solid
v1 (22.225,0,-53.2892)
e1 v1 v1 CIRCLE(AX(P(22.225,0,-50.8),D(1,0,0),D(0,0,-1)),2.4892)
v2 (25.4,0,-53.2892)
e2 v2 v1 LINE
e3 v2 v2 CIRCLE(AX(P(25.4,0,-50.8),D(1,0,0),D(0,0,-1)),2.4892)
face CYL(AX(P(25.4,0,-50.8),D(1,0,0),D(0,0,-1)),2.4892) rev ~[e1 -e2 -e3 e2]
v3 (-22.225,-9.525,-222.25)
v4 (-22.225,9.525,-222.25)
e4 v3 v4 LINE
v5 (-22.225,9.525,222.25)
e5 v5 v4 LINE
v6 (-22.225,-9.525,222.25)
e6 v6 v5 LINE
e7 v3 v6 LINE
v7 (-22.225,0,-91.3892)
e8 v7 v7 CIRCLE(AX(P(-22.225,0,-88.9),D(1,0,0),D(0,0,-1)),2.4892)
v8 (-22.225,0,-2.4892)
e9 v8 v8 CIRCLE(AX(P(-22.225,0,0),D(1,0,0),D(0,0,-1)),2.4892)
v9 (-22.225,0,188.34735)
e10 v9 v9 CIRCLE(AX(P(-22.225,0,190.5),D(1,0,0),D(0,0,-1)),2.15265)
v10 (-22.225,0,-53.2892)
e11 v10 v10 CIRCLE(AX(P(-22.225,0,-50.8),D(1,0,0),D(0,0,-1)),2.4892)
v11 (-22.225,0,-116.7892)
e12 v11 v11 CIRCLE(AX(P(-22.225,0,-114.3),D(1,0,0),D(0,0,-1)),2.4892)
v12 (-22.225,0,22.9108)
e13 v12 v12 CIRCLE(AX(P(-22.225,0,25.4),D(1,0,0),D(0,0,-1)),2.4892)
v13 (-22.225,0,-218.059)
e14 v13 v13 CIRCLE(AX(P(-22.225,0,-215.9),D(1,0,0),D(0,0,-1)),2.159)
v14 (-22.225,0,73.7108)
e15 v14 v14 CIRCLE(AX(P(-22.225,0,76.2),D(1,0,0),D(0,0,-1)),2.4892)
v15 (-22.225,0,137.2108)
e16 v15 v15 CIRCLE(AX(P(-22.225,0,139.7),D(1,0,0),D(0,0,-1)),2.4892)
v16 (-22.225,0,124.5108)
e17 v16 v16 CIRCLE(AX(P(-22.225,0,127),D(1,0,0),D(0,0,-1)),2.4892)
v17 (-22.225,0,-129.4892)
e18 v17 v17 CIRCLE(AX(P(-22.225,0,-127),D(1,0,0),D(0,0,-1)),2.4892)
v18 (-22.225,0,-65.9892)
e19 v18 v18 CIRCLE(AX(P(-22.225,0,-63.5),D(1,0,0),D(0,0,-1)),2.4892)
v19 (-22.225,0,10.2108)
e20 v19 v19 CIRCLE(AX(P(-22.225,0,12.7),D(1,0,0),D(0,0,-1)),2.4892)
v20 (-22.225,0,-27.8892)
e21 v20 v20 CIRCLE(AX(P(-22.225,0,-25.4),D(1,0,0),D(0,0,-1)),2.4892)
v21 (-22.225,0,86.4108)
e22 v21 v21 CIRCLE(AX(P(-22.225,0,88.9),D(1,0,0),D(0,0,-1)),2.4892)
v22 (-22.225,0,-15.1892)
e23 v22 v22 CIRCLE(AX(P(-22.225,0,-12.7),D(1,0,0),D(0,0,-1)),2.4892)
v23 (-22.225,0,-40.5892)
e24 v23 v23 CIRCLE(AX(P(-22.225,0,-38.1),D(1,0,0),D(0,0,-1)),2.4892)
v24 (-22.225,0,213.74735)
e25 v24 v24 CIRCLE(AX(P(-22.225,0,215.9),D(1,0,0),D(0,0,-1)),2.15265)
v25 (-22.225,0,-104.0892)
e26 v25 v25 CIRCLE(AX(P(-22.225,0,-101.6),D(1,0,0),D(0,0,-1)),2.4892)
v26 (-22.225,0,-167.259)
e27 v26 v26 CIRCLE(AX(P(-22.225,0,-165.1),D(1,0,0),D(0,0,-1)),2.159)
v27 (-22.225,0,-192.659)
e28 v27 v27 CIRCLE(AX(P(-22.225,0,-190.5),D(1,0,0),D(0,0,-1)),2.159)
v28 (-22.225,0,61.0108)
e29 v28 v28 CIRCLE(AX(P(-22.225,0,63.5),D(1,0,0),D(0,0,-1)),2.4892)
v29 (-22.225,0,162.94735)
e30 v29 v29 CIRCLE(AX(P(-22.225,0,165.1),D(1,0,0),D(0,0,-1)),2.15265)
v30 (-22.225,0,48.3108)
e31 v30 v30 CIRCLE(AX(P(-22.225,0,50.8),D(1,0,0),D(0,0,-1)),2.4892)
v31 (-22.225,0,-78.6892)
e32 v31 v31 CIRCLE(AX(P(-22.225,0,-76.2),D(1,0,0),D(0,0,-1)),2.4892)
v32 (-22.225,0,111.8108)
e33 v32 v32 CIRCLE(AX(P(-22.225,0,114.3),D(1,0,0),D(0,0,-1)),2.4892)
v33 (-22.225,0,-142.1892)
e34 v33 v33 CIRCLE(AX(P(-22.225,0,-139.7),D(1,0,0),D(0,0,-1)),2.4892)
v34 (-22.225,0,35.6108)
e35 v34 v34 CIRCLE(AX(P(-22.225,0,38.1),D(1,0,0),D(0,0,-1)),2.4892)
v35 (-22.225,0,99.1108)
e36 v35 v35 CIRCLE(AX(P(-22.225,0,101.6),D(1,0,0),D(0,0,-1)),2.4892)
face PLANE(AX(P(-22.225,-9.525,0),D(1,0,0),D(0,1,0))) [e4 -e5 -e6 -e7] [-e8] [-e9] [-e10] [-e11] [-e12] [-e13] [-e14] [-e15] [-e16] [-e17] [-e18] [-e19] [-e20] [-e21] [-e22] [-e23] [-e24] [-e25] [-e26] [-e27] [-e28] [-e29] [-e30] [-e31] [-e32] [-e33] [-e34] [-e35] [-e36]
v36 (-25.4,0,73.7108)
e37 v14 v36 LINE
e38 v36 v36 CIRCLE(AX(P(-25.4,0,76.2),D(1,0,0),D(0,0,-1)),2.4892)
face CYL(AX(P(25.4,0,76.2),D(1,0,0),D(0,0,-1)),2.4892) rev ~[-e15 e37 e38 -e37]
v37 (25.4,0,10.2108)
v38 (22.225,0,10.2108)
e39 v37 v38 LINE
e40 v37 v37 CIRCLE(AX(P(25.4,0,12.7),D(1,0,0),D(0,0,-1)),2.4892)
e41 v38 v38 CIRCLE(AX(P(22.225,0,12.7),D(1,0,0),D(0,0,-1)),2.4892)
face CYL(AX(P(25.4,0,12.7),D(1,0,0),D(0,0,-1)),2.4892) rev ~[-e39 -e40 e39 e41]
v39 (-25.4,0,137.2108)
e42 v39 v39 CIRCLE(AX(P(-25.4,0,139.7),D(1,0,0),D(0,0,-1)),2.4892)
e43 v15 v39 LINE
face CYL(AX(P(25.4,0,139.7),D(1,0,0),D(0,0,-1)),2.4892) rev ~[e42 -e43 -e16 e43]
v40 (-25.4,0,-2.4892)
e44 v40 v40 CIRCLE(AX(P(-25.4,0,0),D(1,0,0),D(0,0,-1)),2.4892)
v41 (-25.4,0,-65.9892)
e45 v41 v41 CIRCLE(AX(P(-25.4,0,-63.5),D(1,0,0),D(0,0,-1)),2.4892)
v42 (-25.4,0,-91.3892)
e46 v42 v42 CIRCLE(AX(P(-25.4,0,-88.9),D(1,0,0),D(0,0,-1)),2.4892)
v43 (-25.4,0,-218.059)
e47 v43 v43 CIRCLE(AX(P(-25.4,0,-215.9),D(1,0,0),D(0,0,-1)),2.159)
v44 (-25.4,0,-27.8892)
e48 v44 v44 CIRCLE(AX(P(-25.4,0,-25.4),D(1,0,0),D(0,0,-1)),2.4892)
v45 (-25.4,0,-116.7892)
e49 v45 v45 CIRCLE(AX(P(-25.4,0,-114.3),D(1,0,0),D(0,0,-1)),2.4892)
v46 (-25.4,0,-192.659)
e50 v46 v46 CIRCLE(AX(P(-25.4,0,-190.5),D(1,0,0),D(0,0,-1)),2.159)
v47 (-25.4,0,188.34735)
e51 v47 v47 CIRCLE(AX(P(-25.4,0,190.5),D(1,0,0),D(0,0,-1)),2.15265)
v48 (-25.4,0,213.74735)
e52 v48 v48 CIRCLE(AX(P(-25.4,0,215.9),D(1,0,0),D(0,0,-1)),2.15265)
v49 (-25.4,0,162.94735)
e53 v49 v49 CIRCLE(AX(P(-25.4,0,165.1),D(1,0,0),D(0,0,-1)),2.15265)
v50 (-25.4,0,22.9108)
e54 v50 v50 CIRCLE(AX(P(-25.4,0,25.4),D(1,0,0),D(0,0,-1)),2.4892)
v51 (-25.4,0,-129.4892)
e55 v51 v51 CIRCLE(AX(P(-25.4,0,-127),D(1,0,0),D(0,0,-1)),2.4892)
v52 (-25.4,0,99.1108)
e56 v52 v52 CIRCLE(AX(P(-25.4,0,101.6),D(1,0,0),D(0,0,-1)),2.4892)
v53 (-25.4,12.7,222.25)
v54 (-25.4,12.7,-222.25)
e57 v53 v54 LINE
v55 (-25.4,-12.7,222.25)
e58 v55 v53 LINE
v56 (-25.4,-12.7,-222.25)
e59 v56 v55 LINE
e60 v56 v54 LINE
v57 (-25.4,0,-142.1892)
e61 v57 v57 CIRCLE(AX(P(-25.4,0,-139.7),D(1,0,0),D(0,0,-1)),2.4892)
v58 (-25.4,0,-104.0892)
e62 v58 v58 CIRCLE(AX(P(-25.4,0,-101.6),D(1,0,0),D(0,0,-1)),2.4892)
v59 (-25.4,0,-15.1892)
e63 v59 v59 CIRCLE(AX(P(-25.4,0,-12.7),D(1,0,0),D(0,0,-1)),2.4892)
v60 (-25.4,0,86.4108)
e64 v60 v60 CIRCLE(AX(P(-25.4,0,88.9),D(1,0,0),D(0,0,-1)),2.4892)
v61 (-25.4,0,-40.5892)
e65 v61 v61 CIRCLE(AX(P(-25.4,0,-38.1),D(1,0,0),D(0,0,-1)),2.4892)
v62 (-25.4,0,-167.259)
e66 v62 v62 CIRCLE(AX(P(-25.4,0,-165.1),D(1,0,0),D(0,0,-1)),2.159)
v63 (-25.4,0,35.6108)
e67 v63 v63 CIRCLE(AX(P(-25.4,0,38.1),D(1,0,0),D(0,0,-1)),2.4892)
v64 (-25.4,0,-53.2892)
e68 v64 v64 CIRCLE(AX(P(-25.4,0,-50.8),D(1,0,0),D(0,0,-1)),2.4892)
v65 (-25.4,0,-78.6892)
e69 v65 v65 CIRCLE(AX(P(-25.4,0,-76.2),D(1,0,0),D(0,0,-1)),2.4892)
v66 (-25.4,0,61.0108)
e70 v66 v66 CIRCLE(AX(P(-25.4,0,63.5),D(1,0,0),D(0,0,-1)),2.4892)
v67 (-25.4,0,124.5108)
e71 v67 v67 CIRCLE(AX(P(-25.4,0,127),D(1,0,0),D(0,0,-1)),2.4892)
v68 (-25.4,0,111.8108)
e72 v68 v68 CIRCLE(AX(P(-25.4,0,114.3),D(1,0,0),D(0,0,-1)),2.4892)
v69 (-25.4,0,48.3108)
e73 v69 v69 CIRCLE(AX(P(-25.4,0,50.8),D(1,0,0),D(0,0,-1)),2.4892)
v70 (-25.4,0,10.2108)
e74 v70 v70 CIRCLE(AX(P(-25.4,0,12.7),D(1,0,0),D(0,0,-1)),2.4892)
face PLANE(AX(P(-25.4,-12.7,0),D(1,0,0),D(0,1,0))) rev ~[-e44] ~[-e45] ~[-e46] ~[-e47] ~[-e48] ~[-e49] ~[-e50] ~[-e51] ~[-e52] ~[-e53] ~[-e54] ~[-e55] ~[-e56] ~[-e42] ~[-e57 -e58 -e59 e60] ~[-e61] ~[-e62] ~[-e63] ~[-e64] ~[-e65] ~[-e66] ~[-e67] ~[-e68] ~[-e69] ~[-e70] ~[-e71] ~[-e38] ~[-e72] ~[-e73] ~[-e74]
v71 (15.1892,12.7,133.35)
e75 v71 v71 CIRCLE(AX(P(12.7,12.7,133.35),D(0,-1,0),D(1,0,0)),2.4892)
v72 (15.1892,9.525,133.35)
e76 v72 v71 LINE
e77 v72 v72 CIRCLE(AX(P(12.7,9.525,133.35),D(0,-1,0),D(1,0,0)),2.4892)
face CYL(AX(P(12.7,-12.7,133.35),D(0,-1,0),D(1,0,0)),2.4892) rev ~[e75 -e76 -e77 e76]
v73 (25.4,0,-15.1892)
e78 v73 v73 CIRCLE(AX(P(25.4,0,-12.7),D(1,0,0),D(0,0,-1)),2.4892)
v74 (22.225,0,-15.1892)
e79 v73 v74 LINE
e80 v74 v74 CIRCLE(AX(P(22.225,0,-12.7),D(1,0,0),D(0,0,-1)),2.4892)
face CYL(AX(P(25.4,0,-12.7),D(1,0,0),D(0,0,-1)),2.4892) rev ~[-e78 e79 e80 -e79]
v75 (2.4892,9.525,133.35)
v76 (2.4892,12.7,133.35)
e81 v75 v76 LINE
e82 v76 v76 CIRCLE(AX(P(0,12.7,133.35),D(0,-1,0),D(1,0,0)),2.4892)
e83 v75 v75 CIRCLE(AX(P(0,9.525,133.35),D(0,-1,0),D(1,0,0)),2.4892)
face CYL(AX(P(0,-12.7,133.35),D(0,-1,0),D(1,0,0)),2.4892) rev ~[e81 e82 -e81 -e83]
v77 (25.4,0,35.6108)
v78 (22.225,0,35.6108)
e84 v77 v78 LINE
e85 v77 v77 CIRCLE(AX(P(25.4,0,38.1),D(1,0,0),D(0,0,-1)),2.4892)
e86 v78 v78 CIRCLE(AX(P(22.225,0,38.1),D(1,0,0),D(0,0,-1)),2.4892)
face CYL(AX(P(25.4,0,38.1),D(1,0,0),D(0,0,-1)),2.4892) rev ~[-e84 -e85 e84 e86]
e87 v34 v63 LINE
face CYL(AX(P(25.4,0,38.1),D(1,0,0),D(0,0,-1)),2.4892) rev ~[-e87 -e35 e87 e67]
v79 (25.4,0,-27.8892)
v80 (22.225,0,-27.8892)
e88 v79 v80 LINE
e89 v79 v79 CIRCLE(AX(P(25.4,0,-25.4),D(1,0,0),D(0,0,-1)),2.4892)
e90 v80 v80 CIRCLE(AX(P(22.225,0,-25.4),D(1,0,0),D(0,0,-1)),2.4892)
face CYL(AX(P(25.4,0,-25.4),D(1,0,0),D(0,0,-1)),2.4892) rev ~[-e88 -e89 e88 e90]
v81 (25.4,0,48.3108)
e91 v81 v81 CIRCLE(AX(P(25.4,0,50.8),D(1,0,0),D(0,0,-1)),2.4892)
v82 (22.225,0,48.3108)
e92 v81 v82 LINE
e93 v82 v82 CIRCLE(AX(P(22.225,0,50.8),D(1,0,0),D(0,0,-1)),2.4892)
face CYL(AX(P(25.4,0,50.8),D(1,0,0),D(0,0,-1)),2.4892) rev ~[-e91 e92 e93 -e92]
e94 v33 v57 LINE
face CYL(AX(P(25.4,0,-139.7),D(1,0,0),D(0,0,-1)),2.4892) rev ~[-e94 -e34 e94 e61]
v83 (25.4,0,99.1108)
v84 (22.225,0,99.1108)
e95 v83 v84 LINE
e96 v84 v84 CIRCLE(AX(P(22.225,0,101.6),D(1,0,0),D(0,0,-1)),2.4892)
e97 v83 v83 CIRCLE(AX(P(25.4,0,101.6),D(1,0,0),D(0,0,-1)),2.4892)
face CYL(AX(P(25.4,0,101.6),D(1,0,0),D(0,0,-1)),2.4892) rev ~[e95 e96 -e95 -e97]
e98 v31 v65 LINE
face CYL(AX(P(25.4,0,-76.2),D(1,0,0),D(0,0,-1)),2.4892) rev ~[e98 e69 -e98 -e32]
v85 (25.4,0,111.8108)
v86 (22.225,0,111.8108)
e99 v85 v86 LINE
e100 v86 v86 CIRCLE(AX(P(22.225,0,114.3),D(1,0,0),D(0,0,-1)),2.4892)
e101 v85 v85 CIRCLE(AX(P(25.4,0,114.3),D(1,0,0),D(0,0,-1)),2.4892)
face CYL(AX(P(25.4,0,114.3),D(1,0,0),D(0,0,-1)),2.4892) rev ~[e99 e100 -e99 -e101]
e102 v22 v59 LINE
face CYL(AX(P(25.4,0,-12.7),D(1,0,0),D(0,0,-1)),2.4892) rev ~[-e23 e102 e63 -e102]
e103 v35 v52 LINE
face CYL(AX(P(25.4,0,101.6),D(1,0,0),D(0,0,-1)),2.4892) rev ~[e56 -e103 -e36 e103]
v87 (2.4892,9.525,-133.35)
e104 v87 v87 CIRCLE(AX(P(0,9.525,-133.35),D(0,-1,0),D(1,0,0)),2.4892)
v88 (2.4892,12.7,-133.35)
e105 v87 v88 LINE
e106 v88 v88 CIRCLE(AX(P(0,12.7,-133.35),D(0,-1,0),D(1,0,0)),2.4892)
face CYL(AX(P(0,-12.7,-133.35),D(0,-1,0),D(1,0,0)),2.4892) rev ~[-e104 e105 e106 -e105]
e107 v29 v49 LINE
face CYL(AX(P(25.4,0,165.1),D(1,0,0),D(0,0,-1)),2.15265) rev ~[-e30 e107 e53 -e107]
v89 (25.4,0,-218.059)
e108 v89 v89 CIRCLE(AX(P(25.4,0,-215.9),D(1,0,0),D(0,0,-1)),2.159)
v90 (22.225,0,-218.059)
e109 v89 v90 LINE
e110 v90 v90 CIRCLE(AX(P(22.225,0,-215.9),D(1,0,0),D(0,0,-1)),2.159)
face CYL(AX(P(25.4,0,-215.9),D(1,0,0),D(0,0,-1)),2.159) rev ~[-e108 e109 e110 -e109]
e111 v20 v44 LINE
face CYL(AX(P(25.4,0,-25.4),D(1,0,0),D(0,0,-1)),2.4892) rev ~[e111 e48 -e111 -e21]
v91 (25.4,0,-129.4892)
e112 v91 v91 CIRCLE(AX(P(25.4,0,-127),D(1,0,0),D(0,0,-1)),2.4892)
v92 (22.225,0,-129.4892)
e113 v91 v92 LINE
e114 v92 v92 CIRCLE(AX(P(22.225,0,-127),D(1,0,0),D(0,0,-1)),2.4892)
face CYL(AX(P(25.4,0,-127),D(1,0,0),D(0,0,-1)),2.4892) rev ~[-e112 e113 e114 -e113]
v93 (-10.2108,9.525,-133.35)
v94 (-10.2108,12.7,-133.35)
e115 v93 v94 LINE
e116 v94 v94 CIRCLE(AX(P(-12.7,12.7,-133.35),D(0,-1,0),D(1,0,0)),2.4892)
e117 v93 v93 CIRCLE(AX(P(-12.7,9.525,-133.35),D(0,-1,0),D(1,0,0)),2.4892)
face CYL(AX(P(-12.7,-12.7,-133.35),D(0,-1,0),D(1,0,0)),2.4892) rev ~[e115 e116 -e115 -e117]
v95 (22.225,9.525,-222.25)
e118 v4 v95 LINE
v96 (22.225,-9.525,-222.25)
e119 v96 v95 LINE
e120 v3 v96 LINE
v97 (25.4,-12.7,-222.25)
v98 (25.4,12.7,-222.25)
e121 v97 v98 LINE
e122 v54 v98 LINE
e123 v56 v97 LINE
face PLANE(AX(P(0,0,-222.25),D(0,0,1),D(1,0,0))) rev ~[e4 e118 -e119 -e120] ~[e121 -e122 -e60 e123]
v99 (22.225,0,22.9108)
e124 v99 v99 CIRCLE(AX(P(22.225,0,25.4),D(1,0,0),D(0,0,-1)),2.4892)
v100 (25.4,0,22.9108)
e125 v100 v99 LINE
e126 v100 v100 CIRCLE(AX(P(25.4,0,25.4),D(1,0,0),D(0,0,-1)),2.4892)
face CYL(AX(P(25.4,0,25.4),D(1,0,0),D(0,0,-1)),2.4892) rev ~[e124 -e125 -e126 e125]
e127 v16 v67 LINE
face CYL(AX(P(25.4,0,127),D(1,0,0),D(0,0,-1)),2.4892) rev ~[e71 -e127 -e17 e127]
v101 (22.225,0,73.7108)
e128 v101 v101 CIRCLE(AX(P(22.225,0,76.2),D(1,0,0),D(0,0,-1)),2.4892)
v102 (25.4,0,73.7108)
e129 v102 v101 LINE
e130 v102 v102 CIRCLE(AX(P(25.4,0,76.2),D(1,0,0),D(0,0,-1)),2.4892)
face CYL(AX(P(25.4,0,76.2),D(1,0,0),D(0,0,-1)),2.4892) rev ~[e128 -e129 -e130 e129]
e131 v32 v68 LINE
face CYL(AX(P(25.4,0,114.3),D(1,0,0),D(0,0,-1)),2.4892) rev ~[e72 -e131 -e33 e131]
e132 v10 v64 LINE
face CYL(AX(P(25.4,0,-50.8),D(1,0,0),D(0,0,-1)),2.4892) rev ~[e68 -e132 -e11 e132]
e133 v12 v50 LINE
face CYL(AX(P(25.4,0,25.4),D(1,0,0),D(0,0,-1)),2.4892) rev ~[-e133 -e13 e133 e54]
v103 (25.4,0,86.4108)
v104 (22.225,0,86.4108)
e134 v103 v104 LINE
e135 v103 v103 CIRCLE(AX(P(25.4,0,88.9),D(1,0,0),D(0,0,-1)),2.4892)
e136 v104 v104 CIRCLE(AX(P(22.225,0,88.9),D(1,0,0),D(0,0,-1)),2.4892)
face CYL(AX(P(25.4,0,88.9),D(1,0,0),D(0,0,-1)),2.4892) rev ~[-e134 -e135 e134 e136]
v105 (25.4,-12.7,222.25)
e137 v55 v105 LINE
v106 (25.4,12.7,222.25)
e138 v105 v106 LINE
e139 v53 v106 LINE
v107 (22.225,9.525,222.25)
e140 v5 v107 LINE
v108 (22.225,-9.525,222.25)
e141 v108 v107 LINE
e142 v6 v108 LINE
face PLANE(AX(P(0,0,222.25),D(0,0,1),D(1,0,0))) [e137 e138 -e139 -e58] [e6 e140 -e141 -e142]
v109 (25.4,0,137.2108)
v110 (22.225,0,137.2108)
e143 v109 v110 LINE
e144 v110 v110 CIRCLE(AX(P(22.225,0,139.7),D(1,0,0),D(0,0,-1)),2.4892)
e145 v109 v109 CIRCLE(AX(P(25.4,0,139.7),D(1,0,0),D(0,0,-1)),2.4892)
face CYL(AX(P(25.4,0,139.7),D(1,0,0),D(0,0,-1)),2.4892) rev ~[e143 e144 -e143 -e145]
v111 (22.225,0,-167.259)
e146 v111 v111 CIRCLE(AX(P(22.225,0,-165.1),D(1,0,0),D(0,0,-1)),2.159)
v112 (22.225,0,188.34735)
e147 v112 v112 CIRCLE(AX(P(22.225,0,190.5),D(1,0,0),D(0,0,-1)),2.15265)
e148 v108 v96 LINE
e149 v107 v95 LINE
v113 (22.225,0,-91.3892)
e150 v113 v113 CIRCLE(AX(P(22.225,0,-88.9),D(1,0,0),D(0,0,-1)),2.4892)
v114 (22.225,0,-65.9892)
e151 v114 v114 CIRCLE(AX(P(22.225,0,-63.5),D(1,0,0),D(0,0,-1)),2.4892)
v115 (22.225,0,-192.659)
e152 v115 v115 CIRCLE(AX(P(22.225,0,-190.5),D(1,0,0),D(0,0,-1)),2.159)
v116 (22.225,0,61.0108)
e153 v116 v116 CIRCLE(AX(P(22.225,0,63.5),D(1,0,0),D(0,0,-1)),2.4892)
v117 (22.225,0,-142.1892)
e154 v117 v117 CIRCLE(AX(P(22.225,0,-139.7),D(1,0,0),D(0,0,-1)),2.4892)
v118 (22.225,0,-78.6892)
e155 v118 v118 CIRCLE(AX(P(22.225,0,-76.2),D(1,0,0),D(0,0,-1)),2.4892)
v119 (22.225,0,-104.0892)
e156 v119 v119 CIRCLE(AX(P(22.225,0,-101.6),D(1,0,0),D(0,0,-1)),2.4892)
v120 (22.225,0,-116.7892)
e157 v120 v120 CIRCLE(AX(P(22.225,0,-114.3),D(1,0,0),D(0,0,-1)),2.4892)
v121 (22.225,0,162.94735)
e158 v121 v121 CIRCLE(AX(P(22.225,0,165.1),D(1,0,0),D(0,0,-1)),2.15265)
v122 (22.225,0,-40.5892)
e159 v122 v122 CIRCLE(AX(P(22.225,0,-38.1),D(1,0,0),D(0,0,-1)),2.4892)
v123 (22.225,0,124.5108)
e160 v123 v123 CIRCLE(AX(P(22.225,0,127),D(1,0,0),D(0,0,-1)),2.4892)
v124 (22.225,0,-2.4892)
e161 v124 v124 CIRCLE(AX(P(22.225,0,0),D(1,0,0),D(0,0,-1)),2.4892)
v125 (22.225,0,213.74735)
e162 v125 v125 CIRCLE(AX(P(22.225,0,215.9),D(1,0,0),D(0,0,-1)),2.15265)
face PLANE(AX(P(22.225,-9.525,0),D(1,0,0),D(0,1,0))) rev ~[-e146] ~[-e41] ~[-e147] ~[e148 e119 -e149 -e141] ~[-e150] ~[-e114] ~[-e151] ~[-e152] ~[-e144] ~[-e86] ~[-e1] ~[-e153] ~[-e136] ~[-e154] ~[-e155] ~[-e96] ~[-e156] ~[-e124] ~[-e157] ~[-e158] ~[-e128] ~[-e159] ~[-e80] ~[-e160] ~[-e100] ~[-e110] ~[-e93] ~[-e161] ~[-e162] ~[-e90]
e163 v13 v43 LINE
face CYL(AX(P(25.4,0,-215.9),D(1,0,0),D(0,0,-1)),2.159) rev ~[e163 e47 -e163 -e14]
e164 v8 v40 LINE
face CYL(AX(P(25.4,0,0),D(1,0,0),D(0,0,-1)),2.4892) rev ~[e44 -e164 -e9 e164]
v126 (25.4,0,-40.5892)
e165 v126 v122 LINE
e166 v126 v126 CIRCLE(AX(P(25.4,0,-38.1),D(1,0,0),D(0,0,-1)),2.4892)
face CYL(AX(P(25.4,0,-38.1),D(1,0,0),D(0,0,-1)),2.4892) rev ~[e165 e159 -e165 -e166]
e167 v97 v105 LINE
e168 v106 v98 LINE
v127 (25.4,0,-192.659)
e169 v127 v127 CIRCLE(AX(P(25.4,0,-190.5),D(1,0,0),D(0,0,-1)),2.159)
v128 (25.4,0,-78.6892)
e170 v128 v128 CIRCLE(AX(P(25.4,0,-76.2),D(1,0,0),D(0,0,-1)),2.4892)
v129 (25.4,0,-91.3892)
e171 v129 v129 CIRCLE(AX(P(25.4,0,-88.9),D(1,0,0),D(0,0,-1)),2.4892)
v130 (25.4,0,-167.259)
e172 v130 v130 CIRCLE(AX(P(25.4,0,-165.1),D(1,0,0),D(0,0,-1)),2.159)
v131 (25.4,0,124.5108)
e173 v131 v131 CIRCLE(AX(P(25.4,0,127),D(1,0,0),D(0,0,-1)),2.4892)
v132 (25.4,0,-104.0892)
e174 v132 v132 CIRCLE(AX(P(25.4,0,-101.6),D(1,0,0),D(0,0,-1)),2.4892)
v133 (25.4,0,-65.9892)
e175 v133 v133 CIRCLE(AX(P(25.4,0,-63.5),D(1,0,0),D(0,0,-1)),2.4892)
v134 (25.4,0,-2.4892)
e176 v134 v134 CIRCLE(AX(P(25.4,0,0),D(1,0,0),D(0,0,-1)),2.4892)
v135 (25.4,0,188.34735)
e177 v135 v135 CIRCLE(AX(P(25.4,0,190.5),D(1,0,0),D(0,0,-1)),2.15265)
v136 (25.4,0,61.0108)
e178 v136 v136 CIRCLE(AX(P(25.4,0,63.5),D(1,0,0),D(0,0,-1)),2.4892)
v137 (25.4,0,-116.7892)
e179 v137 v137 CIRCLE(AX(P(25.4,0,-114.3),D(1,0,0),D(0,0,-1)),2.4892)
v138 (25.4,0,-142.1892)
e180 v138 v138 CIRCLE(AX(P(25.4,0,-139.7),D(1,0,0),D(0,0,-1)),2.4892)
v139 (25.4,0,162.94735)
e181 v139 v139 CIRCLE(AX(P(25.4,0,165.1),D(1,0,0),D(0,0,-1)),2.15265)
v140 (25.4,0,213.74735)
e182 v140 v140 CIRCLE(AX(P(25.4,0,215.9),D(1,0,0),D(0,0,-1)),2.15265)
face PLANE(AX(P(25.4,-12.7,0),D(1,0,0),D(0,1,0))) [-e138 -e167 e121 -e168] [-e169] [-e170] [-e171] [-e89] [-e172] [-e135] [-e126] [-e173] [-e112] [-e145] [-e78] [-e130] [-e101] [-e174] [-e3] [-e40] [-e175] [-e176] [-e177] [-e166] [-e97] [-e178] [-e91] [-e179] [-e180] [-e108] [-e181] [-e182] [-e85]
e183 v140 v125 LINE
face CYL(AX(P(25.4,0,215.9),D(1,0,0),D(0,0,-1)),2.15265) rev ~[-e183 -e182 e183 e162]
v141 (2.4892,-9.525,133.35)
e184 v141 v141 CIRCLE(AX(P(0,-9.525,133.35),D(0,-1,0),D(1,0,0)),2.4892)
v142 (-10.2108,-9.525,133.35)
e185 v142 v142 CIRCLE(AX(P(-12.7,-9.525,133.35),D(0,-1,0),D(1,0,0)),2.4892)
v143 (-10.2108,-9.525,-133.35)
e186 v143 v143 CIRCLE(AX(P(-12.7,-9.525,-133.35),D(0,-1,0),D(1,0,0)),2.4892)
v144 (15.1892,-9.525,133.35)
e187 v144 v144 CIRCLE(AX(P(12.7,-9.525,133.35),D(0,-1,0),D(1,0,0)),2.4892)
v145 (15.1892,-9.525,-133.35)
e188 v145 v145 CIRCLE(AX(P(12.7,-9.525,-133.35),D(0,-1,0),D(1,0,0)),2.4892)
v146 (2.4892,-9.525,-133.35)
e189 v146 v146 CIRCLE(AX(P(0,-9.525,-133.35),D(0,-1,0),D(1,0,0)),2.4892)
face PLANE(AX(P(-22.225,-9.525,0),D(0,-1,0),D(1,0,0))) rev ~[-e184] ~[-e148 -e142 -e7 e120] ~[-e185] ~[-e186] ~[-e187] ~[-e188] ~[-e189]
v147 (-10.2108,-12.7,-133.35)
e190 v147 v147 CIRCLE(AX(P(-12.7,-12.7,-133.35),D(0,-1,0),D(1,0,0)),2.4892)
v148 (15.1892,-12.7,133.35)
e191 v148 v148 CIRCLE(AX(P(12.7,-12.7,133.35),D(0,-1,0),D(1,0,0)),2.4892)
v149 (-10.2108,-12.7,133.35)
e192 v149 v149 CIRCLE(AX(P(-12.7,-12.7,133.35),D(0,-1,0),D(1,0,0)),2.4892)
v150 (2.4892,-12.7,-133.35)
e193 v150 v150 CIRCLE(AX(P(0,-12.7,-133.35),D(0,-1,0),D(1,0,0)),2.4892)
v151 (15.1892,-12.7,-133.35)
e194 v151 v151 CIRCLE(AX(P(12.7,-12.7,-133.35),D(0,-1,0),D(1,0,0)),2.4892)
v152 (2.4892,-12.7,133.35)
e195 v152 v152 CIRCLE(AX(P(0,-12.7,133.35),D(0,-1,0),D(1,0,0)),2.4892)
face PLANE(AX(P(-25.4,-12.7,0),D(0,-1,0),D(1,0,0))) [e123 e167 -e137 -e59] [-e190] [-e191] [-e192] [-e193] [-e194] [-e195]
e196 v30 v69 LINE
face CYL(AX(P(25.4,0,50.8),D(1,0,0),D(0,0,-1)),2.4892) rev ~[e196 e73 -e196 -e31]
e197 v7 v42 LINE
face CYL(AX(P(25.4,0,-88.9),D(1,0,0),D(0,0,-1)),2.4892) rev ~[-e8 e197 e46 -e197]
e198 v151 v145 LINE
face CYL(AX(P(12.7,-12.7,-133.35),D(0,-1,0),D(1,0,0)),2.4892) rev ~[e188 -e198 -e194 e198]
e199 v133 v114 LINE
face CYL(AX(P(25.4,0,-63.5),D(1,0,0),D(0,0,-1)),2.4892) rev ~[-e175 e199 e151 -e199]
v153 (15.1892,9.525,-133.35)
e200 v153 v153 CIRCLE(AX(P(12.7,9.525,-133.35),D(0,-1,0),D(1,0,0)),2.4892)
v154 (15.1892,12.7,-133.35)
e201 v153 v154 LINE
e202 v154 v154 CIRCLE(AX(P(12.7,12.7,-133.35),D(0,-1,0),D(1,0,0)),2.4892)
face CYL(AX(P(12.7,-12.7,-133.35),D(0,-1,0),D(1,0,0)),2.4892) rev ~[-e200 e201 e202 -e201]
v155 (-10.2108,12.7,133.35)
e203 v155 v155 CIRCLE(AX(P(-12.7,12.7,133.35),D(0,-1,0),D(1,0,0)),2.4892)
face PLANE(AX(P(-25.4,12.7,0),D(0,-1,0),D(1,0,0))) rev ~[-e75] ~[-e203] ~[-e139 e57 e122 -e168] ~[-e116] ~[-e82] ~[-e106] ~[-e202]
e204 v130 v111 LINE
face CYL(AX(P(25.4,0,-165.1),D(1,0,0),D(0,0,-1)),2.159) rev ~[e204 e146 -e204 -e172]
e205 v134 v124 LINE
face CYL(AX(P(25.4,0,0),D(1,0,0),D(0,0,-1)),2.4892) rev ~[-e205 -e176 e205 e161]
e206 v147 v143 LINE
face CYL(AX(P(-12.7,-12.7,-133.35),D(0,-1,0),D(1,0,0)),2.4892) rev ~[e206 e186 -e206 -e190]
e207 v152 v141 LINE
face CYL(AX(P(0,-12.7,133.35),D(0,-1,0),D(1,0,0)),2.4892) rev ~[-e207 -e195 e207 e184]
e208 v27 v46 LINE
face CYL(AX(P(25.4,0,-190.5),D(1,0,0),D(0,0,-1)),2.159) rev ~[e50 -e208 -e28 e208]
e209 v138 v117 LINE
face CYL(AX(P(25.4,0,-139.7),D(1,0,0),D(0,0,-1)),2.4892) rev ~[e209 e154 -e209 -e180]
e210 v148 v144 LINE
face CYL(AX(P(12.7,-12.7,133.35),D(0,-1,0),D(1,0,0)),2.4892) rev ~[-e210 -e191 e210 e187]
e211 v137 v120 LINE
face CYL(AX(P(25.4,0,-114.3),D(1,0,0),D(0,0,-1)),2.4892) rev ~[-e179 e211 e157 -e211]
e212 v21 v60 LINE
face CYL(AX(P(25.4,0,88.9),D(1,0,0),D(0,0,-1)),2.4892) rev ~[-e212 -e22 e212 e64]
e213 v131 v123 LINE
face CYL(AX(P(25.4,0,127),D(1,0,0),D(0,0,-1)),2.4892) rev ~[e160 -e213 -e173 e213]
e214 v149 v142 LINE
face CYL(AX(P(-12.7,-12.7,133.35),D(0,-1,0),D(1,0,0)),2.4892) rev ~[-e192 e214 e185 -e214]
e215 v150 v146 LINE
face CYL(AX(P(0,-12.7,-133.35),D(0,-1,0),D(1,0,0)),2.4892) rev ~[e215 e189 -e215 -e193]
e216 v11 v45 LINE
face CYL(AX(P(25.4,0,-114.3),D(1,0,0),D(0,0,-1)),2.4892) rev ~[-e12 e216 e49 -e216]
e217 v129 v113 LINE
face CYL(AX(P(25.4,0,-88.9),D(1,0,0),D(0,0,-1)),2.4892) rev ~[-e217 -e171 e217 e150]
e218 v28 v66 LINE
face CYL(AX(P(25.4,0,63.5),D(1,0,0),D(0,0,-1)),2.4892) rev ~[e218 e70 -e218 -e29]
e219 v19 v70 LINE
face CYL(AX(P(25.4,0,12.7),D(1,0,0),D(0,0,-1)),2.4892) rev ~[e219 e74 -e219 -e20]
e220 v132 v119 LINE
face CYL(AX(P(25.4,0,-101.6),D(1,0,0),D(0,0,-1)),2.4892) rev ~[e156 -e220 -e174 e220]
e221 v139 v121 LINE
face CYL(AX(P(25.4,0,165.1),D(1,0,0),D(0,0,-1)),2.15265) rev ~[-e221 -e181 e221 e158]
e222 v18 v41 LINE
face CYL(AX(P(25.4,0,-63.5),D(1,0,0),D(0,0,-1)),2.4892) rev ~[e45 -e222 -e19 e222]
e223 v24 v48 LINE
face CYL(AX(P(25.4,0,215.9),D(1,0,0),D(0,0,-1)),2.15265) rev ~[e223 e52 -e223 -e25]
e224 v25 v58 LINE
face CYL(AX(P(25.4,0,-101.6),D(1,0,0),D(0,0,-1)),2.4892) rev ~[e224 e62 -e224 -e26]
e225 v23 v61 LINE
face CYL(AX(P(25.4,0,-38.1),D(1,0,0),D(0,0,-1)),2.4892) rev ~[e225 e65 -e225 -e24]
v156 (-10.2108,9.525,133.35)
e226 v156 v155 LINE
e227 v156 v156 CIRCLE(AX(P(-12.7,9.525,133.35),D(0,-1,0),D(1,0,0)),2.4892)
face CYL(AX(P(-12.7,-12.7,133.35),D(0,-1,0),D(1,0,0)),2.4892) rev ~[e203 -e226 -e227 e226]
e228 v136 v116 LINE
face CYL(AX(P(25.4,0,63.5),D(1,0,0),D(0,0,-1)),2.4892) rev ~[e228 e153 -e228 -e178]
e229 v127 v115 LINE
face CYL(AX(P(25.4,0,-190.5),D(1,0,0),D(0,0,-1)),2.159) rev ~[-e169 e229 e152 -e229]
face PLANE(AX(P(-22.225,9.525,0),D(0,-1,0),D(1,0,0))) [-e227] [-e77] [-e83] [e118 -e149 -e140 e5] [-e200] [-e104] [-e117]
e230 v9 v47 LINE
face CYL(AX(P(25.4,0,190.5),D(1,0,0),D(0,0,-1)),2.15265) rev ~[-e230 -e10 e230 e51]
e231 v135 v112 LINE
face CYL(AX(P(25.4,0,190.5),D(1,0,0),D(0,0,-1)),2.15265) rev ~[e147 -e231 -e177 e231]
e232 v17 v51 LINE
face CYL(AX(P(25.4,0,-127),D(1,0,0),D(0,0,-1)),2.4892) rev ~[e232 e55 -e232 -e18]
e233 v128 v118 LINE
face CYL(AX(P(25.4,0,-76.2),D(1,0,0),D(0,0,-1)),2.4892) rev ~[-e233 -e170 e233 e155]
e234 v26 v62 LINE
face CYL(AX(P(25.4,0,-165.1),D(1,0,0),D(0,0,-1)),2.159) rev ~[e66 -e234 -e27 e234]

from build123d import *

# Parameters (mm, degrees)
SKETCH1_W           = 50.8
SKETCH1_H           = 25.4
SKETCH1_W_2         = 44.45
SKETCH1_H_2         = 19.05
BOSS_EXTRUDE1_DEPTH = 222.25
SKETCH3_R           = 2.15265
SKETCH3_R_2         = 2.159
CUT_EXTRUDE2_DEPTH  = 51.8
SKETCH4_R           = 2.4892
CUT_EXTRUDE3_DEPTH  = 51.8
SKETCH5_R           = 2.4892
CUT_EXTRUDE4_DEPTH  = 26.4


with BuildPart() as part:
    # Sketch1 → Boss-Extrude1 (new body, symmetric)
    with BuildSketch(Plane.XY):
        Rectangle(SKETCH1_W, SKETCH1_H)
        Rectangle(SKETCH1_W_2, SKETCH1_H_2, mode=Mode.SUBTRACT)
    extrude(amount=BOSS_EXTRUDE1_DEPTH, both=True)

    # Sketch3 → Cut-Extrude2 (cut, through all)
    with BuildSketch(Plane(origin=(25.4, 0, 0), x_dir=(0, 0, -1), z_dir=(1, 0, 0))):
        with Locations((-215.9, 0)):
            Circle(SKETCH3_R)
        with Locations((-190.5, 0)):
            Circle(SKETCH3_R)
        with Locations((-165.1, 0)):
            Circle(SKETCH3_R)
        with Locations((215.9, 0)):
            Circle(SKETCH3_R_2)
        with Locations((190.5, 0)):
            Circle(SKETCH3_R_2)
        with Locations((165.1, 0)):
            Circle(SKETCH3_R_2)
    extrude(amount=-CUT_EXTRUDE2_DEPTH, mode=Mode.SUBTRACT)

    # Sketch4 → Cut-Extrude3 (cut, through all)
    with BuildSketch(Plane(origin=(25.4, 0, 0), x_dir=(0, 0, -1), z_dir=(1, 0, 0))):
        with Locations((-139.7, 0)):
            Circle(SKETCH4_R)
        with Locations((-127, 0)):
            Circle(SKETCH4_R)
        with Locations((-114.3, 0)):
            Circle(SKETCH4_R)
        with Locations((-101.6, 0)):
            Circle(SKETCH4_R)
        with Locations((-88.9, 0)):
            Circle(SKETCH4_R)
        with Locations((-76.2, 0)):
            Circle(SKETCH4_R)
        with Locations((-63.5, 0)):
            Circle(SKETCH4_R)
        with Locations((-50.8, 0)):
            Circle(SKETCH4_R)
        with Locations((-38.1, 0)):
            Circle(SKETCH4_R)
        with Locations((-25.4, 0)):
            Circle(SKETCH4_R)
        with Locations((-12.7, 0)):
            Circle(SKETCH4_R)
        Circle(SKETCH4_R)
        with Locations((12.7, 0)):
            Circle(SKETCH4_R)
        with Locations((25.4, 0)):
            Circle(SKETCH4_R)
        with Locations((38.1, 0)):
            Circle(SKETCH4_R)
        with Locations((50.8, 0)):
            Circle(SKETCH4_R)
        with Locations((63.5, 0)):
            Circle(SKETCH4_R)
        with Locations((76.2, 0)):
            Circle(SKETCH4_R)
        with Locations((88.9, 0)):
            Circle(SKETCH4_R)
        with Locations((101.6, 0)):
            Circle(SKETCH4_R)
        with Locations((114.3, 0)):
            Circle(SKETCH4_R)
        with Locations((127, 0)):
            Circle(SKETCH4_R)
        with Locations((139.7, 0)):
            Circle(SKETCH4_R)
    extrude(amount=-CUT_EXTRUDE3_DEPTH, mode=Mode.SUBTRACT)

    # Sketch5 → Cut-Extrude4 (cut, through all)
    with BuildSketch(Plane.XZ.offset(12.7)):
        with Locations((-12.7, 133.35)):
            Circle(SKETCH5_R)
        with Locations((0, 133.35)):
            Circle(SKETCH5_R)
        with Locations((12.7, 133.35)):
            Circle(SKETCH5_R)
        with Locations((12.7, -133.35)):
            Circle(SKETCH5_R)
        with Locations((0, -133.35)):
            Circle(SKETCH5_R)
        with Locations((-12.7, -133.35)):
            Circle(SKETCH5_R)
    extrude(amount=-CUT_EXTRUDE4_DEPTH, mode=Mode.SUBTRACT)


solid = part.part
